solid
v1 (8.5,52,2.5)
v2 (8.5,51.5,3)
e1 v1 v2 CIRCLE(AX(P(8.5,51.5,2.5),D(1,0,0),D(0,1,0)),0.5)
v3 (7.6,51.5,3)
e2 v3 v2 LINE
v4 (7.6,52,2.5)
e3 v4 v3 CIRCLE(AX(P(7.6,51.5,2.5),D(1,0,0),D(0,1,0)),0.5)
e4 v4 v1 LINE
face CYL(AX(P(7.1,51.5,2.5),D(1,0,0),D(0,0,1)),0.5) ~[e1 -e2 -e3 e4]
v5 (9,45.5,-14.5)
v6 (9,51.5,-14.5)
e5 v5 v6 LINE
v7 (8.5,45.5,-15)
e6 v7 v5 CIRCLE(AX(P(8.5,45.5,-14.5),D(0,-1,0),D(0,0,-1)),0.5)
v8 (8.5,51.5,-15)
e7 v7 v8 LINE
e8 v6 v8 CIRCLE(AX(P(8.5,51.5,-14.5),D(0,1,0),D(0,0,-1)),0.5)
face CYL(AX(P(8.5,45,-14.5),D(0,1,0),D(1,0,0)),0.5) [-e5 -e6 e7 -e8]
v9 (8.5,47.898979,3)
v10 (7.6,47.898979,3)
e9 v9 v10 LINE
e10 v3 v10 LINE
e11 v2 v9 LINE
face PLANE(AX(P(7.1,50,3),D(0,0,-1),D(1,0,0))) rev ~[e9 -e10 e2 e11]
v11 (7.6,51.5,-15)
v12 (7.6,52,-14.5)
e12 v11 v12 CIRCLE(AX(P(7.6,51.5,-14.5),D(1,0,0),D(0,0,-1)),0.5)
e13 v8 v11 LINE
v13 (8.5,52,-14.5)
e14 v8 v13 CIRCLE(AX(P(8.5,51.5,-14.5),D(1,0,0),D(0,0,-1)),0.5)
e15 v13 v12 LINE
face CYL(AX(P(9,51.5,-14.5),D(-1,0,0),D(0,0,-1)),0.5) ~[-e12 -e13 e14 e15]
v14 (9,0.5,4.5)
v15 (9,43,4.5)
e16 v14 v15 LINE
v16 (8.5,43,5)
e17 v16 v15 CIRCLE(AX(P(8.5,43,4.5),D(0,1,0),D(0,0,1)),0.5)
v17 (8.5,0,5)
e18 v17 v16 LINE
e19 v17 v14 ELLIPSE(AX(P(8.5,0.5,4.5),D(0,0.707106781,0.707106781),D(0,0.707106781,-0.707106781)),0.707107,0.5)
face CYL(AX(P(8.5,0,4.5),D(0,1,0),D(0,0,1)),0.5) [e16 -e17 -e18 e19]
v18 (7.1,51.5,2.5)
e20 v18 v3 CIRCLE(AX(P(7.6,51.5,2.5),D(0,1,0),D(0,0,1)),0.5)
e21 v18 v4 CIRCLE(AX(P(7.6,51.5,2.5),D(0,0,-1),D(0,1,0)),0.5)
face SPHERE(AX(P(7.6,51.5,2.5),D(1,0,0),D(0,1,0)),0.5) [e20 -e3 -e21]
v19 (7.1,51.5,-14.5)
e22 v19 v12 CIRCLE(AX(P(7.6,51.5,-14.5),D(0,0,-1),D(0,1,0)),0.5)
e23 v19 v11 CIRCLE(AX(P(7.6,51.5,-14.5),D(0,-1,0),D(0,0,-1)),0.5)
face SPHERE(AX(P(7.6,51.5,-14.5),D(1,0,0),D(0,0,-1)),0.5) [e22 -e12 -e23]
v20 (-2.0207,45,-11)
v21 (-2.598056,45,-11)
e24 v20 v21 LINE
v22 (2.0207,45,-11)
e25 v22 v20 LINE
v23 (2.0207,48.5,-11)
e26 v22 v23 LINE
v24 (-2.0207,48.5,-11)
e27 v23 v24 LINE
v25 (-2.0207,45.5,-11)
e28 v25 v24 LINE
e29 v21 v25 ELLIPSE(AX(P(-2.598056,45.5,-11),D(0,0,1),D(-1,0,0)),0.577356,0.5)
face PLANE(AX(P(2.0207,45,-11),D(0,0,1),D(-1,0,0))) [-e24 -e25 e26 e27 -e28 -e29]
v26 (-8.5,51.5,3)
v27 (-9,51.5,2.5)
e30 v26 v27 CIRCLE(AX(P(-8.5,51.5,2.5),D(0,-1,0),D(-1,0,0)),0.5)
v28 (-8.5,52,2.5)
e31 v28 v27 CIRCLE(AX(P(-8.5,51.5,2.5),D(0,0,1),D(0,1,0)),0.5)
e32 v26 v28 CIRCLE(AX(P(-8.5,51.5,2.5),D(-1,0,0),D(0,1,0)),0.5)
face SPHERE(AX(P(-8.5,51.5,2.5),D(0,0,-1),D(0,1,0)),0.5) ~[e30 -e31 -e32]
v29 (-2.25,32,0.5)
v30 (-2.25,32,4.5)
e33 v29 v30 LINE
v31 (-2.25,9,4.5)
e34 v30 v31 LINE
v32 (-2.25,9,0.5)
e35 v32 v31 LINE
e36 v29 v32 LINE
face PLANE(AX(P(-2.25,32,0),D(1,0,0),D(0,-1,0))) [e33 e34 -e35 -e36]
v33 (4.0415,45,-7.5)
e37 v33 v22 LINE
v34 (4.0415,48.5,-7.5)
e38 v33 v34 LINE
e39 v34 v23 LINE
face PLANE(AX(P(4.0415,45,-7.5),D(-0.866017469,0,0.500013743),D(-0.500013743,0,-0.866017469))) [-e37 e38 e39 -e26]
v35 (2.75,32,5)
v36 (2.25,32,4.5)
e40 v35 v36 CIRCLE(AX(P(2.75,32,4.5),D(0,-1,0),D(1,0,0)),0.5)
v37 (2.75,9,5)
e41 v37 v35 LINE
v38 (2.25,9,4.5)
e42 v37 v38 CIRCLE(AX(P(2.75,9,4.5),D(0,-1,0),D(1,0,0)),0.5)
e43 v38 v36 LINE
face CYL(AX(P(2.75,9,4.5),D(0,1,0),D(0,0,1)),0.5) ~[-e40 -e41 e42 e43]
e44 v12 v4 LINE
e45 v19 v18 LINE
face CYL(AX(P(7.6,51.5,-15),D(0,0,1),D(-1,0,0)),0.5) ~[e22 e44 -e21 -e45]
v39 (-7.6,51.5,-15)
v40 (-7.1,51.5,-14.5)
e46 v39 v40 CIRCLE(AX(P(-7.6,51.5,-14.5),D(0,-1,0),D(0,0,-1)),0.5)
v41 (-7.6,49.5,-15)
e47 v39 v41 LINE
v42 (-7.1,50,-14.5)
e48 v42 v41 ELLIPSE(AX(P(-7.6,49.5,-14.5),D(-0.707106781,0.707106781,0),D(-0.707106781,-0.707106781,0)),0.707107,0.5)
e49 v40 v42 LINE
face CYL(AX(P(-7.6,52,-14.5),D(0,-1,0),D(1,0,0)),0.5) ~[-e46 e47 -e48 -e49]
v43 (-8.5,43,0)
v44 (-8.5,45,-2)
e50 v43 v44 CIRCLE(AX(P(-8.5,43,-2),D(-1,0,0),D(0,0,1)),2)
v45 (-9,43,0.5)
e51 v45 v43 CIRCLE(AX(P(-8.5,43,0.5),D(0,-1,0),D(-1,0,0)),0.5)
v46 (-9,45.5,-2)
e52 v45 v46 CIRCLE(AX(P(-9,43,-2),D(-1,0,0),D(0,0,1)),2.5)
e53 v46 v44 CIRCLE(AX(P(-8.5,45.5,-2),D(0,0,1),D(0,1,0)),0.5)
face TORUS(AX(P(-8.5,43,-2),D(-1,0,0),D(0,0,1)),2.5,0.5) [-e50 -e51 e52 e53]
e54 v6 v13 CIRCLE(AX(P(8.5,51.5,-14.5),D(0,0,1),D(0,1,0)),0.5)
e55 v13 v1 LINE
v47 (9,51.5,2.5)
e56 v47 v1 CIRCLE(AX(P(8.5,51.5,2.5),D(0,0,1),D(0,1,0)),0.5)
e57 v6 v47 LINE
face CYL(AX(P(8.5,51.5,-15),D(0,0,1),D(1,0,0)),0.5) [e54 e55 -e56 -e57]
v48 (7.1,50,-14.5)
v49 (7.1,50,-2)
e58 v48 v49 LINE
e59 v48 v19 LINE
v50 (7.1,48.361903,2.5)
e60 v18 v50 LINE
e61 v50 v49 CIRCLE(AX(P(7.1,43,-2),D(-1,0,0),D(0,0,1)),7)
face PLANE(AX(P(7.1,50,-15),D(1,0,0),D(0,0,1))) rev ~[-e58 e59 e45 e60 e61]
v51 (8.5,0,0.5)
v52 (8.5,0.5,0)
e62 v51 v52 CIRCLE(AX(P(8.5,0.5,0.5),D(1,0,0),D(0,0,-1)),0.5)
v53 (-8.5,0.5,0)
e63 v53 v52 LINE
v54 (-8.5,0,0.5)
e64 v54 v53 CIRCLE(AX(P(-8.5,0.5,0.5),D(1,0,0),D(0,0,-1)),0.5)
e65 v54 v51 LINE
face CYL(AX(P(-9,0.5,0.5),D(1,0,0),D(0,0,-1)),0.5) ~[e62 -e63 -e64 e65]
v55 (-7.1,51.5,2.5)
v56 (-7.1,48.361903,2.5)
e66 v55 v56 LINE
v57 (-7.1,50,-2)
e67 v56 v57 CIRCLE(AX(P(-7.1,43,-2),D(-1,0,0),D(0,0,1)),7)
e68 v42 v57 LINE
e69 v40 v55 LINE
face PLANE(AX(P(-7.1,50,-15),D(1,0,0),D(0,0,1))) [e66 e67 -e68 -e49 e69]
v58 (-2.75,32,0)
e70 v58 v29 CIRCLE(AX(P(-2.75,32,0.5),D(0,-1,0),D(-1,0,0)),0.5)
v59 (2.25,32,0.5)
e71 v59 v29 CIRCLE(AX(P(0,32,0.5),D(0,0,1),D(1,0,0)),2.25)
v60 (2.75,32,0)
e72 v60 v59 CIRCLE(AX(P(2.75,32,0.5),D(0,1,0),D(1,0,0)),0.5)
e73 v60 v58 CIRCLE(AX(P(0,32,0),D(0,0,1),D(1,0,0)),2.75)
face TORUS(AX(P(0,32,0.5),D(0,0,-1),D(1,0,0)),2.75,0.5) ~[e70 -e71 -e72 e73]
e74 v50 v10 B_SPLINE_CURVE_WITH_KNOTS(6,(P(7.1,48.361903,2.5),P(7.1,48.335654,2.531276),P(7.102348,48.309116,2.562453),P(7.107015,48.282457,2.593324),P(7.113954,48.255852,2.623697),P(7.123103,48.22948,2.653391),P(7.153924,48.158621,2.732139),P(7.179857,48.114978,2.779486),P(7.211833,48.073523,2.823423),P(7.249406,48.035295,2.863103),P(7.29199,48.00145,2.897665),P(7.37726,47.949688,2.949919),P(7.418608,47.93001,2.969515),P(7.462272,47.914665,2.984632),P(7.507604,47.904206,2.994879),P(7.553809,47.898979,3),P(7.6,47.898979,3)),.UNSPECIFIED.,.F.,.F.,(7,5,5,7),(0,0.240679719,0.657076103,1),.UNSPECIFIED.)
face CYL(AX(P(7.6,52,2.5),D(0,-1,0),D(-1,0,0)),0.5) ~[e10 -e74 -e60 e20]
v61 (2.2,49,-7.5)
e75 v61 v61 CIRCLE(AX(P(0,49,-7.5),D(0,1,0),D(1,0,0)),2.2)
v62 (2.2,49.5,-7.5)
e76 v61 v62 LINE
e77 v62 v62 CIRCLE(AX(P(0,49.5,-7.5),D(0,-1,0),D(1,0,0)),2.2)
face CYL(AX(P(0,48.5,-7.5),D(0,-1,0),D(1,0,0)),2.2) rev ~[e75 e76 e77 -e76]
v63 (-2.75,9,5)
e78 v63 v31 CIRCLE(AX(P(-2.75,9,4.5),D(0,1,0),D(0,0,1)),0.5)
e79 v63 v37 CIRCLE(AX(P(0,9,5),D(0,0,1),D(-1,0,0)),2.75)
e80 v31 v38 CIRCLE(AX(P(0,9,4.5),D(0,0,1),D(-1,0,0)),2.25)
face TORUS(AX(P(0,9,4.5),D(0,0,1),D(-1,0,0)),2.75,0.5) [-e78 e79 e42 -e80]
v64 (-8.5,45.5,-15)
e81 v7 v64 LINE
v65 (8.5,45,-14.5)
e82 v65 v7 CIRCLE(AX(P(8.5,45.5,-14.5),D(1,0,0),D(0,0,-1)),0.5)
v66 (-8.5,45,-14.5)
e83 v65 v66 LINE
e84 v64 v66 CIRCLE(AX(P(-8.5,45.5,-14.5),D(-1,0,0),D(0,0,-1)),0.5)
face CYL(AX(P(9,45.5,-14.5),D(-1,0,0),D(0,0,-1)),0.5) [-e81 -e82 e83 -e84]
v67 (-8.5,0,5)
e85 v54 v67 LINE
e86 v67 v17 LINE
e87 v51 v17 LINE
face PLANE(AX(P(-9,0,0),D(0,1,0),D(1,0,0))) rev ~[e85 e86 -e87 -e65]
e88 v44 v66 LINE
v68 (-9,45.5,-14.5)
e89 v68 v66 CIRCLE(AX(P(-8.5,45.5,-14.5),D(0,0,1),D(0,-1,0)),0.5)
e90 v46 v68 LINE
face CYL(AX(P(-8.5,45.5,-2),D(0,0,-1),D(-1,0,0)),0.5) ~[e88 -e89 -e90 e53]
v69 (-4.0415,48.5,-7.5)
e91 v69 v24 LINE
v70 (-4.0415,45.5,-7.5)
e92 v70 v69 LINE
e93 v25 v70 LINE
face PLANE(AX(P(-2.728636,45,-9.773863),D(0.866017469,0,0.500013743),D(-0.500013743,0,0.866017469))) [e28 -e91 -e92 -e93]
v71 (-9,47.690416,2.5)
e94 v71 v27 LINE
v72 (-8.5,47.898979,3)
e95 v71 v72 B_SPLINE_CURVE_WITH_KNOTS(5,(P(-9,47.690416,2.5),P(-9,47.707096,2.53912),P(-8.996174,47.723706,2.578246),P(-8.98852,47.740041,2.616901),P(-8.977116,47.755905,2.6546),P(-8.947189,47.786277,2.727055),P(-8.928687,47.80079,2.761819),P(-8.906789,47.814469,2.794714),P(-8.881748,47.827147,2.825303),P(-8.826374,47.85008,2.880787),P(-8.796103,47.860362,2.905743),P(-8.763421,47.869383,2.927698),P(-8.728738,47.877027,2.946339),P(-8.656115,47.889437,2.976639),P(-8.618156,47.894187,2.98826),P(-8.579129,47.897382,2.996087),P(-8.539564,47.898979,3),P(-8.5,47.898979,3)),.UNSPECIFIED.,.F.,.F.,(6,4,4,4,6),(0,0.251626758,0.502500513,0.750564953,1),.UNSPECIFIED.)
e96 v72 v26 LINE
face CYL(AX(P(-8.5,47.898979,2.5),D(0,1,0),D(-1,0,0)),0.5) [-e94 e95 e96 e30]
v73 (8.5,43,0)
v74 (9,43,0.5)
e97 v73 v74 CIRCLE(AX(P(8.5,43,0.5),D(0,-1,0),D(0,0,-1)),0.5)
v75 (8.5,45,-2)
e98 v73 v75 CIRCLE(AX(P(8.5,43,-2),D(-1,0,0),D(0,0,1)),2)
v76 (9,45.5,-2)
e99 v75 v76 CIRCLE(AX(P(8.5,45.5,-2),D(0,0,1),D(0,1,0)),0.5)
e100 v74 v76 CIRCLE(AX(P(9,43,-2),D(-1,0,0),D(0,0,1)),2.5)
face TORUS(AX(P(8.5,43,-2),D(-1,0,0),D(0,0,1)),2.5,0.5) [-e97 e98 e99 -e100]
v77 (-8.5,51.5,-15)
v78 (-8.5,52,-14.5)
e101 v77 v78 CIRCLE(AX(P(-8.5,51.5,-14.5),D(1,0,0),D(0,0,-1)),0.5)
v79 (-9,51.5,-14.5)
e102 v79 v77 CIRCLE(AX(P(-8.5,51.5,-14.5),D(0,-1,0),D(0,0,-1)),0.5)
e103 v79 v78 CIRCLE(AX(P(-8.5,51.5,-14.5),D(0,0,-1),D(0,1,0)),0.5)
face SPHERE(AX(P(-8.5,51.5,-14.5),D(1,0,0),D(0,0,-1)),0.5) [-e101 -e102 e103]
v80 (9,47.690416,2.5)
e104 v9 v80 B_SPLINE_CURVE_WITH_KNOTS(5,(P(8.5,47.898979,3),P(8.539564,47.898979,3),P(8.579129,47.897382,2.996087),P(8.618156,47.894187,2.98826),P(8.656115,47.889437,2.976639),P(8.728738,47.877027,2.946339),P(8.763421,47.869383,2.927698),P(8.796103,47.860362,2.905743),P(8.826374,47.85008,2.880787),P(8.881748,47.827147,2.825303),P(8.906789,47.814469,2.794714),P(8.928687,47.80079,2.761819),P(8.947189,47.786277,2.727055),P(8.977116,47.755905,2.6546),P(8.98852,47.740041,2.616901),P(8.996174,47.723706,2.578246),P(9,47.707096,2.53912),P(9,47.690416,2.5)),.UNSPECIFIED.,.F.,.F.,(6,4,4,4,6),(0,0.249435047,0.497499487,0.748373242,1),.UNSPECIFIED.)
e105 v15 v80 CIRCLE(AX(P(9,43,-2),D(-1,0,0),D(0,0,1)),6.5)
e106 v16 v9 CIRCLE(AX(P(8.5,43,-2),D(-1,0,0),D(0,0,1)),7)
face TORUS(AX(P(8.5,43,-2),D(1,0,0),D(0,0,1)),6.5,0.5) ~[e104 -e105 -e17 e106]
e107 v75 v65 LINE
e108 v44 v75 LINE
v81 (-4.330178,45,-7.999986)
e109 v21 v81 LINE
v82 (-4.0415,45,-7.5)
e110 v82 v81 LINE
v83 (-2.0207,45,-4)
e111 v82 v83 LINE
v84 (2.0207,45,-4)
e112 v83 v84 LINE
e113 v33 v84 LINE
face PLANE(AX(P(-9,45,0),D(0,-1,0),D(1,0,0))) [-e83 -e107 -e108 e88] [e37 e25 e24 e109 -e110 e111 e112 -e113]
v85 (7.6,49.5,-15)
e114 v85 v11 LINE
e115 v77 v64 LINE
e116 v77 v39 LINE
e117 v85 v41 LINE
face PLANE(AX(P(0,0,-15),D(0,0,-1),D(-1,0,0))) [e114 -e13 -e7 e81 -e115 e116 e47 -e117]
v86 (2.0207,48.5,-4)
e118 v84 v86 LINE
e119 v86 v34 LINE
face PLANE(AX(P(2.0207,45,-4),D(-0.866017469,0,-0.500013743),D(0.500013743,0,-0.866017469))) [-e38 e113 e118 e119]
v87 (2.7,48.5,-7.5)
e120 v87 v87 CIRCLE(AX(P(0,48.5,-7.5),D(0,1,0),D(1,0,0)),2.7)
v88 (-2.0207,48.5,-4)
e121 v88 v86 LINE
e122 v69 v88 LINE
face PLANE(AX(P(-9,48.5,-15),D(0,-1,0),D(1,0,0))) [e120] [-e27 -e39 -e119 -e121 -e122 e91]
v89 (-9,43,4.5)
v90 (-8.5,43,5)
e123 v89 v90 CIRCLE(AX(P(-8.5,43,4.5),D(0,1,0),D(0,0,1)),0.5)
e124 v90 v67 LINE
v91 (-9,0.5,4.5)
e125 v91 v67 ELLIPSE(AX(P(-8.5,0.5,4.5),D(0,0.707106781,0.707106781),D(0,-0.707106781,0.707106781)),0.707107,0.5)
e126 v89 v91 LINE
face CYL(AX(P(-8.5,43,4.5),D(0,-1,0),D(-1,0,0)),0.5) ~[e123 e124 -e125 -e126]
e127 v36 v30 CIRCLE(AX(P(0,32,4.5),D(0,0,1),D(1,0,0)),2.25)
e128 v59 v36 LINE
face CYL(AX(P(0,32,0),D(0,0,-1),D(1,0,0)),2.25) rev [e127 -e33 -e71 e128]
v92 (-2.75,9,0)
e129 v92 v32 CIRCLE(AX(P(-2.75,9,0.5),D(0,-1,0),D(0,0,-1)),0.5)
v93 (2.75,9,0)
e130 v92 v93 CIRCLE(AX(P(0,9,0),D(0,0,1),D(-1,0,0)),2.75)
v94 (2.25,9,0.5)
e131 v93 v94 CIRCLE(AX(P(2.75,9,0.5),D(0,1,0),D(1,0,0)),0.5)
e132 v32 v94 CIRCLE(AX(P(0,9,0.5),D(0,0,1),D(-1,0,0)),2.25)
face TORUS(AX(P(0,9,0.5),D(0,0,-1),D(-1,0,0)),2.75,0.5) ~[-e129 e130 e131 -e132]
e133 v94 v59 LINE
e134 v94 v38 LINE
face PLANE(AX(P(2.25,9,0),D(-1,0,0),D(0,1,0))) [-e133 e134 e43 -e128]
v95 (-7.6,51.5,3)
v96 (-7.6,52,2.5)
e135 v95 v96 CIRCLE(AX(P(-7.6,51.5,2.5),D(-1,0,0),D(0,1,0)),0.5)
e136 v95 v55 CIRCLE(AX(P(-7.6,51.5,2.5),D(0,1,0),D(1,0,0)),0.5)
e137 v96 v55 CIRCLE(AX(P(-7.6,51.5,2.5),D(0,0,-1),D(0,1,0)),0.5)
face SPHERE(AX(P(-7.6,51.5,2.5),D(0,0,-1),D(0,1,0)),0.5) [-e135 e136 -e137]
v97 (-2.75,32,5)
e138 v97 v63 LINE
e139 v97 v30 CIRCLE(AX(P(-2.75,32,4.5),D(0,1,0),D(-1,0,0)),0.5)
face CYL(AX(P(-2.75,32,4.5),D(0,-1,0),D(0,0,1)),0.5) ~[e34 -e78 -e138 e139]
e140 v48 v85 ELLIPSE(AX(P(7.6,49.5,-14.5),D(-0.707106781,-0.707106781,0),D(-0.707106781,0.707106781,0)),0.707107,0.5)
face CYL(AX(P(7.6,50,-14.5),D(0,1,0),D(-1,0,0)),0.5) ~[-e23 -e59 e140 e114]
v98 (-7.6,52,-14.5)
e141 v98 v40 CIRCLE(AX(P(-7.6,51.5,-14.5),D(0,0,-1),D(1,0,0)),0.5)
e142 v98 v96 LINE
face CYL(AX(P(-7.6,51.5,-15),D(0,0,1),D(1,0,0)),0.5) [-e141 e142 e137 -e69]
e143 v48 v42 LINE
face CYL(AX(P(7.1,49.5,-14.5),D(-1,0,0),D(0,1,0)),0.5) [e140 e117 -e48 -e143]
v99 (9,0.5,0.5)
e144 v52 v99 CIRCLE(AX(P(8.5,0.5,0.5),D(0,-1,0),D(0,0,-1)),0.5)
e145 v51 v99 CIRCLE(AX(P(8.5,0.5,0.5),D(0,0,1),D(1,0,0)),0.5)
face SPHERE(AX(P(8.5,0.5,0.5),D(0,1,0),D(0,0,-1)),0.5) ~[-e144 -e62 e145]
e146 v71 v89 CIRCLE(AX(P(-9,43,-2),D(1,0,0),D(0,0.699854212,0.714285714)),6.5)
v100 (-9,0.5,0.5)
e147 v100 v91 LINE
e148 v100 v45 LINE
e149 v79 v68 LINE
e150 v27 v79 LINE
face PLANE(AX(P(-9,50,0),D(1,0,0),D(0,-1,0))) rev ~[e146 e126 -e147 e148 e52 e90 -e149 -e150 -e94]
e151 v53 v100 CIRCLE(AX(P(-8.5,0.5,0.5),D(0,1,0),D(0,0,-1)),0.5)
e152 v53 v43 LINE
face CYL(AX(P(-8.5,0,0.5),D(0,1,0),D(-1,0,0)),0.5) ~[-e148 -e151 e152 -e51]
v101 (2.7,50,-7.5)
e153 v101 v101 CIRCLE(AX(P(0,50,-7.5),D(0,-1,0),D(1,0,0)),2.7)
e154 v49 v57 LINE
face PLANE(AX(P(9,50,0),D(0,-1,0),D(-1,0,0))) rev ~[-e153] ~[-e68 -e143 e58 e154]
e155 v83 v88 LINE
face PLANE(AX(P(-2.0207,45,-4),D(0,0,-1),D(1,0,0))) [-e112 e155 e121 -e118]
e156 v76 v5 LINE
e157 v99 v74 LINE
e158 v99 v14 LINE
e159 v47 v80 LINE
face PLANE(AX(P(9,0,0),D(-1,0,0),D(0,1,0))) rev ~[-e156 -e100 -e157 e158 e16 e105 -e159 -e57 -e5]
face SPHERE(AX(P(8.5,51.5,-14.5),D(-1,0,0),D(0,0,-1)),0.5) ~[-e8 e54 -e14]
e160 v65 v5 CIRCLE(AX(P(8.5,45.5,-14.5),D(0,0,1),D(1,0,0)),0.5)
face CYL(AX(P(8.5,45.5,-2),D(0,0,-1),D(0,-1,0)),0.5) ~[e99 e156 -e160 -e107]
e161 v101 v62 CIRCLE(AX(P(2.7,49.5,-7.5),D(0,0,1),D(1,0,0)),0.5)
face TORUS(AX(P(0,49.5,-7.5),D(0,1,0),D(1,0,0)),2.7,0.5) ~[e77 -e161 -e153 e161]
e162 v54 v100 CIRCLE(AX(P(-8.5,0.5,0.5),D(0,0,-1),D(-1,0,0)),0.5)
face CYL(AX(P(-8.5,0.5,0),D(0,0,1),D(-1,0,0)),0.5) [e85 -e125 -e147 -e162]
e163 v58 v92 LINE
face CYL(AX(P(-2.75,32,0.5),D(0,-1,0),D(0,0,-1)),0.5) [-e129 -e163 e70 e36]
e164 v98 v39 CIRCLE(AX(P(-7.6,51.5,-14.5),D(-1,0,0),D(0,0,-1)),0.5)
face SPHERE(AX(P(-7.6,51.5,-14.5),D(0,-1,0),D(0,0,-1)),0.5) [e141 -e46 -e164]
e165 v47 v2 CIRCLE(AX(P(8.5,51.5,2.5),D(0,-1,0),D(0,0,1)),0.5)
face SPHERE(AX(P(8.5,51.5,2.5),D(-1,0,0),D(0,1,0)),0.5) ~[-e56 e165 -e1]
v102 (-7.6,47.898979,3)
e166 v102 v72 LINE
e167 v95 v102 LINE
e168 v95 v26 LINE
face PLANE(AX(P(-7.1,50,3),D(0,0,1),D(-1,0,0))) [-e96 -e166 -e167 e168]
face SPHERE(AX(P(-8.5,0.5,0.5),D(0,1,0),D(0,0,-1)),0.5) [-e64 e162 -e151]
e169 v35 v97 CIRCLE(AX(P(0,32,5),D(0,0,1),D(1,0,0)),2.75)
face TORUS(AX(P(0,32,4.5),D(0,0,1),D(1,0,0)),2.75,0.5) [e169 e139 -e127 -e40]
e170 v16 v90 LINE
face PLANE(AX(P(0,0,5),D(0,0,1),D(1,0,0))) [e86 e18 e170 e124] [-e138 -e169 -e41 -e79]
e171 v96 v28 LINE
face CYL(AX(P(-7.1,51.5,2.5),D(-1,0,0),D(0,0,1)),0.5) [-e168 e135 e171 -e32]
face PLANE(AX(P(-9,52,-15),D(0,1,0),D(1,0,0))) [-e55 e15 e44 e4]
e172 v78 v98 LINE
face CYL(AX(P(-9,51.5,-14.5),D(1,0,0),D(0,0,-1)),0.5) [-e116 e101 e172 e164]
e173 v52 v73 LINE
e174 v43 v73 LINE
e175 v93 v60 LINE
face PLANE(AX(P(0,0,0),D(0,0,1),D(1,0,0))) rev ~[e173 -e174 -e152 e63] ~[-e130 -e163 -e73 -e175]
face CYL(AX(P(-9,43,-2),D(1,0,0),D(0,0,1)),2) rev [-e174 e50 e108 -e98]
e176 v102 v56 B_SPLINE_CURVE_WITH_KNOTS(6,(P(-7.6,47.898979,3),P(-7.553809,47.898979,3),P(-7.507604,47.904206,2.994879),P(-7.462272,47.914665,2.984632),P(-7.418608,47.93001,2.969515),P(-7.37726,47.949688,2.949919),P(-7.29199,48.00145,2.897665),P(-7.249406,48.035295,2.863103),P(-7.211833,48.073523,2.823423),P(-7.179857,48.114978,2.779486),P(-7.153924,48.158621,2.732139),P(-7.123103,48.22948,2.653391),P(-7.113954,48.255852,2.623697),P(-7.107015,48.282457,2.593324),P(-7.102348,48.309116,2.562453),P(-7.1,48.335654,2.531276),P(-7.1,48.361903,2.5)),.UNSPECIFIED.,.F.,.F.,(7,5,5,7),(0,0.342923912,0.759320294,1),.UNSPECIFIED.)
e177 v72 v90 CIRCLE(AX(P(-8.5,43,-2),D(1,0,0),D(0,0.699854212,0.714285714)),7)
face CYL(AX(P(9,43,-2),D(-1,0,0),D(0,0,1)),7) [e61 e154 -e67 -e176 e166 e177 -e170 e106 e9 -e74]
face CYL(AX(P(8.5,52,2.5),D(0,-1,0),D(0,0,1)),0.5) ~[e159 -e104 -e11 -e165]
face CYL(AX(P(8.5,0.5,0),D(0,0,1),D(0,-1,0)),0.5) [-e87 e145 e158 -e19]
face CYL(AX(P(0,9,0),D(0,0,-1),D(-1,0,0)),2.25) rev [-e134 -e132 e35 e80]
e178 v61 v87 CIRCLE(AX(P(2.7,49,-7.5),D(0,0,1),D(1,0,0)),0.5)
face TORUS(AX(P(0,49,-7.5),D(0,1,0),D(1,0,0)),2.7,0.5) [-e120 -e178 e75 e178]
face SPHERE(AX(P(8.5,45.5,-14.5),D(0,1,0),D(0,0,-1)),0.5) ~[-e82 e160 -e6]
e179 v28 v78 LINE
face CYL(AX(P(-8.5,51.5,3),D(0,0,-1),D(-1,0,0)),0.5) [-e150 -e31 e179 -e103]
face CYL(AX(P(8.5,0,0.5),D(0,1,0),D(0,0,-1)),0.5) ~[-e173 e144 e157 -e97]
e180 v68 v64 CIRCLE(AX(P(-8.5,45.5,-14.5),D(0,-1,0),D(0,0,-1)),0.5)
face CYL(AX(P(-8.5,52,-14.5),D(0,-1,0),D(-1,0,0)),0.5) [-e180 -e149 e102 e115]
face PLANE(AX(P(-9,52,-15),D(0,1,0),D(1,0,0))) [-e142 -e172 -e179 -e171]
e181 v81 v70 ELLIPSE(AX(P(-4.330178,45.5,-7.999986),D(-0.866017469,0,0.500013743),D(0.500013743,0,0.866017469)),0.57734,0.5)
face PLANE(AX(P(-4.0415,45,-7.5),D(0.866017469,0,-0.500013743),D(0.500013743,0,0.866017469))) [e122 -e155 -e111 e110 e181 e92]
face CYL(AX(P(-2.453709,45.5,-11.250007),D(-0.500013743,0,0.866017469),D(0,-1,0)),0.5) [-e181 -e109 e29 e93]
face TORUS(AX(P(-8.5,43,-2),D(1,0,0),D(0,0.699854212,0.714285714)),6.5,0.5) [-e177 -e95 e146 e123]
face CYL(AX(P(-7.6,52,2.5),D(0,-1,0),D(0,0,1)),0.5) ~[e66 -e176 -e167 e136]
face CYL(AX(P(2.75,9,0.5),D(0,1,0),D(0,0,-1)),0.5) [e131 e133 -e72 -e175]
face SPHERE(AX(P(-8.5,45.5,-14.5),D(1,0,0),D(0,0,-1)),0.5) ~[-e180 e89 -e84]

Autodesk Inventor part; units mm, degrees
ref_plane "YZ Plane" through (0, 0, 0) normal (1, 0, 0) x (0, 1, 0)
ref_plane "XZ Plane" through (0, 0, 0) normal (0, 1, 0) x (-1, 0, 0)
ref_plane "XY Plane" through (0, 0, 0) normal (0, 0, 1) x (1, 0, 0)
sketch "Sketch1" plane through (0, 0, 0) normal (0, 0, 1) x (1, 0, 0)
  line L0 (-9, 0) -> (9, 0)
  line L1 (9, 0) -> (9, 50)
  line L2 (9, 50) -> (-9, 50)
  line L3 (-9, 50) -> (-9, 0)
  arc A0 (-2.25, 9) -> (2.25, 9) centre (0, 9) ccw
  arc A1 (2.25, 32) -> (-2.25, 32) centre (0, 32) ccw
  line L4 (-2.25, 32) -> (-2.25, 9)
  line L5 (2.25, 9) -> (2.25, 32)
  point P0 (0, 0)
  point P1 (0, 0)
  dimension "d0" = 18
  dimension "d2" = 4.5
  dimension "d3" = 50
  dimension "d4" = 4.5
  dimension "d7" = 18
  dimension "d8" = 9
extrude "Extrusion1" add sketch "Sketch1" along normal blind 5
sketch "Sketch2" plane through (0, 0, 0) normal (0, 0, -1) x (-1, 0, 0)
  line L0 (-9, 50) -> (9, 50) projected
  line L1 (9, 50) -> (9, 0) projected
  line L2 (-9, 50) -> (9, 50)
  line L3 (9, 50) -> (9, 45)
  line L4 (9, 45) -> (-9, 45)
  line L5 (-9, 45) -> (-9, 50)
  point P0 (0, 0)
  dimension "d9" = 5
extrude "Extrusion2" add sketch "Sketch2" along normal blind 15
fillet "Fillet1" radius 2 1 edges at (0, 45, 0)
fillet "Fillet2" radius 7 1 edges at (0, 50, 5)
sketch "Sketch3" plane through (-9, 45, -15) normal (0, -1, 0) x (1, 0, 0)
  line L0 (0, 0) -> (18, 0) projected
  line L1 (0, 15) -> (18, 15) projected
  line L2 (0, 0) -> (18, 0)
  line L3 (18, 0) -> (18, 15)
  line L4 (18, 15) -> (0, 15)
  line L5 (0, 15) -> (0, 0)
  line L6 (18, 15) -> (0, 0)
  line L7 (6.9793, 4) -> (4.9585, 7.5)
  line L8 (4.9585, 7.5) -> (6.9793, 11)
  line L9 (6.9793, 11) -> (11.0207, 11)
  line L10 (11.0207, 11) -> (13.0415, 7.5)
  line L11 (13.0415, 7.5) -> (11.0207, 4)
  line L12 (11.0207, 4) -> (6.9793, 4)
  point P0 (9, 15)
  point P1 (9, 7.5)
  point P2 (9, 4)
  point P3 (11.7286, 9.7739)
  point P4 (6.2714, 5.2261)
  dimension "d14" = 7
extrude "Extrusion3" cut sketch "Sketch3" against normal blind 3.5 contours L7 L8 L9 L10 L6 | L6 L10 L11 L12 L7
sketch "Sketch4" plane through (-9, 48.5, -15) normal (0, -1, 0) x (1, 0, 0)
  line L0 (13.0415, 7.5) -> (11.0207, 4) projected
  line L1 (13.0415, 7.5) -> (4.9585, 7.5)
  circle A0 centre (9, 7.5) radius 2.2
  point P0 (9, 15)
  dimension "d17" = 4.4
extrude "Extrusion4" cut sketch "Sketch4" against normal up to surface (1.5 mm away)
sketch "Sketch6" plane through (-9, 50, -15) normal (0, 1, 0) x (1, 0, 0)
  line L0 (0, 0) -> (0, -13) projected
  line L1 (0, 0) -> (1.9, 0)
  line L2 (1.9, 0) -> (1.9, -18)
  line L3 (1.9, -18) -> (0, -18)
  line L4 (0, -18) -> (0, 0)
  line L5 (18, 0) -> (18, -13) projected
  line L6 (18, 0) -> (16.1, 0)
  line L7 (16.1, 0) -> (16.1, -18)
  line L8 (16.1, -18) -> (18, -18)
  line L9 (18, -18) -> (18, 0)
  point P0 (9, -15)
  dimension "d23" = 1.9
  dimension "d24" = 18
  dimension "d25" = 14.2
  dimension "d26" = 18
extrude "Extrusion5" add sketch "Sketch6" along normal blind 2 and the other way blind 5
fillet "Fillet4" radius 0.5 42 edges at (-2.2, 50, -7.5) (-2.2, 48.5, -7.5) (-3.0311, 45, -9.25) (0, 50, -15) (-7.1, 51, -15) (-8.05, 52, -15) (8.05, 52, -15) (7.1, 51, -15) (9, 48.5, -15) (0, 45, -15) (-9, 48.5, -15) (-7.1, 52, -6) (-9, 52, -6) (-8.05, 52, 3) (8.05, 52, 3) (7.1, 52, -6) (9, 52, -6) (9, 49.9495, 3) (7.1, 49.9495, 3) (-7.1, 49.9495, 3) (-9, 49.9495, 3) (9, 21.5, 5) (9, 45.6458, 4.4807) (-9, 21.5, 5) (-9, 45.6458, 4.4807) (0, 34.25, 5) (2.25, 20.5, 5) (0, 6.75, 5) (-2.25, 20.5, 5) (0, 34.25, 0) (2.25, 20.5, 0) (0, 6.75, 0) (-2.25, 20.5, 0) (9, 44.4142, -0.5858) (9, 45, -8.5) (9, 21.5, 0) (-9, 44.4142, -0.5858) (-9, 45, -8.5) (-9, 21.5, 0) (0, 0, 0) (-9, 0, 2.5) (9, 0, 2.5)
equation "\"d23\" = -0.5 * d25 + 0.5 * d24"
properties part number "BandeV2Joint2" material "PET Plastic"
